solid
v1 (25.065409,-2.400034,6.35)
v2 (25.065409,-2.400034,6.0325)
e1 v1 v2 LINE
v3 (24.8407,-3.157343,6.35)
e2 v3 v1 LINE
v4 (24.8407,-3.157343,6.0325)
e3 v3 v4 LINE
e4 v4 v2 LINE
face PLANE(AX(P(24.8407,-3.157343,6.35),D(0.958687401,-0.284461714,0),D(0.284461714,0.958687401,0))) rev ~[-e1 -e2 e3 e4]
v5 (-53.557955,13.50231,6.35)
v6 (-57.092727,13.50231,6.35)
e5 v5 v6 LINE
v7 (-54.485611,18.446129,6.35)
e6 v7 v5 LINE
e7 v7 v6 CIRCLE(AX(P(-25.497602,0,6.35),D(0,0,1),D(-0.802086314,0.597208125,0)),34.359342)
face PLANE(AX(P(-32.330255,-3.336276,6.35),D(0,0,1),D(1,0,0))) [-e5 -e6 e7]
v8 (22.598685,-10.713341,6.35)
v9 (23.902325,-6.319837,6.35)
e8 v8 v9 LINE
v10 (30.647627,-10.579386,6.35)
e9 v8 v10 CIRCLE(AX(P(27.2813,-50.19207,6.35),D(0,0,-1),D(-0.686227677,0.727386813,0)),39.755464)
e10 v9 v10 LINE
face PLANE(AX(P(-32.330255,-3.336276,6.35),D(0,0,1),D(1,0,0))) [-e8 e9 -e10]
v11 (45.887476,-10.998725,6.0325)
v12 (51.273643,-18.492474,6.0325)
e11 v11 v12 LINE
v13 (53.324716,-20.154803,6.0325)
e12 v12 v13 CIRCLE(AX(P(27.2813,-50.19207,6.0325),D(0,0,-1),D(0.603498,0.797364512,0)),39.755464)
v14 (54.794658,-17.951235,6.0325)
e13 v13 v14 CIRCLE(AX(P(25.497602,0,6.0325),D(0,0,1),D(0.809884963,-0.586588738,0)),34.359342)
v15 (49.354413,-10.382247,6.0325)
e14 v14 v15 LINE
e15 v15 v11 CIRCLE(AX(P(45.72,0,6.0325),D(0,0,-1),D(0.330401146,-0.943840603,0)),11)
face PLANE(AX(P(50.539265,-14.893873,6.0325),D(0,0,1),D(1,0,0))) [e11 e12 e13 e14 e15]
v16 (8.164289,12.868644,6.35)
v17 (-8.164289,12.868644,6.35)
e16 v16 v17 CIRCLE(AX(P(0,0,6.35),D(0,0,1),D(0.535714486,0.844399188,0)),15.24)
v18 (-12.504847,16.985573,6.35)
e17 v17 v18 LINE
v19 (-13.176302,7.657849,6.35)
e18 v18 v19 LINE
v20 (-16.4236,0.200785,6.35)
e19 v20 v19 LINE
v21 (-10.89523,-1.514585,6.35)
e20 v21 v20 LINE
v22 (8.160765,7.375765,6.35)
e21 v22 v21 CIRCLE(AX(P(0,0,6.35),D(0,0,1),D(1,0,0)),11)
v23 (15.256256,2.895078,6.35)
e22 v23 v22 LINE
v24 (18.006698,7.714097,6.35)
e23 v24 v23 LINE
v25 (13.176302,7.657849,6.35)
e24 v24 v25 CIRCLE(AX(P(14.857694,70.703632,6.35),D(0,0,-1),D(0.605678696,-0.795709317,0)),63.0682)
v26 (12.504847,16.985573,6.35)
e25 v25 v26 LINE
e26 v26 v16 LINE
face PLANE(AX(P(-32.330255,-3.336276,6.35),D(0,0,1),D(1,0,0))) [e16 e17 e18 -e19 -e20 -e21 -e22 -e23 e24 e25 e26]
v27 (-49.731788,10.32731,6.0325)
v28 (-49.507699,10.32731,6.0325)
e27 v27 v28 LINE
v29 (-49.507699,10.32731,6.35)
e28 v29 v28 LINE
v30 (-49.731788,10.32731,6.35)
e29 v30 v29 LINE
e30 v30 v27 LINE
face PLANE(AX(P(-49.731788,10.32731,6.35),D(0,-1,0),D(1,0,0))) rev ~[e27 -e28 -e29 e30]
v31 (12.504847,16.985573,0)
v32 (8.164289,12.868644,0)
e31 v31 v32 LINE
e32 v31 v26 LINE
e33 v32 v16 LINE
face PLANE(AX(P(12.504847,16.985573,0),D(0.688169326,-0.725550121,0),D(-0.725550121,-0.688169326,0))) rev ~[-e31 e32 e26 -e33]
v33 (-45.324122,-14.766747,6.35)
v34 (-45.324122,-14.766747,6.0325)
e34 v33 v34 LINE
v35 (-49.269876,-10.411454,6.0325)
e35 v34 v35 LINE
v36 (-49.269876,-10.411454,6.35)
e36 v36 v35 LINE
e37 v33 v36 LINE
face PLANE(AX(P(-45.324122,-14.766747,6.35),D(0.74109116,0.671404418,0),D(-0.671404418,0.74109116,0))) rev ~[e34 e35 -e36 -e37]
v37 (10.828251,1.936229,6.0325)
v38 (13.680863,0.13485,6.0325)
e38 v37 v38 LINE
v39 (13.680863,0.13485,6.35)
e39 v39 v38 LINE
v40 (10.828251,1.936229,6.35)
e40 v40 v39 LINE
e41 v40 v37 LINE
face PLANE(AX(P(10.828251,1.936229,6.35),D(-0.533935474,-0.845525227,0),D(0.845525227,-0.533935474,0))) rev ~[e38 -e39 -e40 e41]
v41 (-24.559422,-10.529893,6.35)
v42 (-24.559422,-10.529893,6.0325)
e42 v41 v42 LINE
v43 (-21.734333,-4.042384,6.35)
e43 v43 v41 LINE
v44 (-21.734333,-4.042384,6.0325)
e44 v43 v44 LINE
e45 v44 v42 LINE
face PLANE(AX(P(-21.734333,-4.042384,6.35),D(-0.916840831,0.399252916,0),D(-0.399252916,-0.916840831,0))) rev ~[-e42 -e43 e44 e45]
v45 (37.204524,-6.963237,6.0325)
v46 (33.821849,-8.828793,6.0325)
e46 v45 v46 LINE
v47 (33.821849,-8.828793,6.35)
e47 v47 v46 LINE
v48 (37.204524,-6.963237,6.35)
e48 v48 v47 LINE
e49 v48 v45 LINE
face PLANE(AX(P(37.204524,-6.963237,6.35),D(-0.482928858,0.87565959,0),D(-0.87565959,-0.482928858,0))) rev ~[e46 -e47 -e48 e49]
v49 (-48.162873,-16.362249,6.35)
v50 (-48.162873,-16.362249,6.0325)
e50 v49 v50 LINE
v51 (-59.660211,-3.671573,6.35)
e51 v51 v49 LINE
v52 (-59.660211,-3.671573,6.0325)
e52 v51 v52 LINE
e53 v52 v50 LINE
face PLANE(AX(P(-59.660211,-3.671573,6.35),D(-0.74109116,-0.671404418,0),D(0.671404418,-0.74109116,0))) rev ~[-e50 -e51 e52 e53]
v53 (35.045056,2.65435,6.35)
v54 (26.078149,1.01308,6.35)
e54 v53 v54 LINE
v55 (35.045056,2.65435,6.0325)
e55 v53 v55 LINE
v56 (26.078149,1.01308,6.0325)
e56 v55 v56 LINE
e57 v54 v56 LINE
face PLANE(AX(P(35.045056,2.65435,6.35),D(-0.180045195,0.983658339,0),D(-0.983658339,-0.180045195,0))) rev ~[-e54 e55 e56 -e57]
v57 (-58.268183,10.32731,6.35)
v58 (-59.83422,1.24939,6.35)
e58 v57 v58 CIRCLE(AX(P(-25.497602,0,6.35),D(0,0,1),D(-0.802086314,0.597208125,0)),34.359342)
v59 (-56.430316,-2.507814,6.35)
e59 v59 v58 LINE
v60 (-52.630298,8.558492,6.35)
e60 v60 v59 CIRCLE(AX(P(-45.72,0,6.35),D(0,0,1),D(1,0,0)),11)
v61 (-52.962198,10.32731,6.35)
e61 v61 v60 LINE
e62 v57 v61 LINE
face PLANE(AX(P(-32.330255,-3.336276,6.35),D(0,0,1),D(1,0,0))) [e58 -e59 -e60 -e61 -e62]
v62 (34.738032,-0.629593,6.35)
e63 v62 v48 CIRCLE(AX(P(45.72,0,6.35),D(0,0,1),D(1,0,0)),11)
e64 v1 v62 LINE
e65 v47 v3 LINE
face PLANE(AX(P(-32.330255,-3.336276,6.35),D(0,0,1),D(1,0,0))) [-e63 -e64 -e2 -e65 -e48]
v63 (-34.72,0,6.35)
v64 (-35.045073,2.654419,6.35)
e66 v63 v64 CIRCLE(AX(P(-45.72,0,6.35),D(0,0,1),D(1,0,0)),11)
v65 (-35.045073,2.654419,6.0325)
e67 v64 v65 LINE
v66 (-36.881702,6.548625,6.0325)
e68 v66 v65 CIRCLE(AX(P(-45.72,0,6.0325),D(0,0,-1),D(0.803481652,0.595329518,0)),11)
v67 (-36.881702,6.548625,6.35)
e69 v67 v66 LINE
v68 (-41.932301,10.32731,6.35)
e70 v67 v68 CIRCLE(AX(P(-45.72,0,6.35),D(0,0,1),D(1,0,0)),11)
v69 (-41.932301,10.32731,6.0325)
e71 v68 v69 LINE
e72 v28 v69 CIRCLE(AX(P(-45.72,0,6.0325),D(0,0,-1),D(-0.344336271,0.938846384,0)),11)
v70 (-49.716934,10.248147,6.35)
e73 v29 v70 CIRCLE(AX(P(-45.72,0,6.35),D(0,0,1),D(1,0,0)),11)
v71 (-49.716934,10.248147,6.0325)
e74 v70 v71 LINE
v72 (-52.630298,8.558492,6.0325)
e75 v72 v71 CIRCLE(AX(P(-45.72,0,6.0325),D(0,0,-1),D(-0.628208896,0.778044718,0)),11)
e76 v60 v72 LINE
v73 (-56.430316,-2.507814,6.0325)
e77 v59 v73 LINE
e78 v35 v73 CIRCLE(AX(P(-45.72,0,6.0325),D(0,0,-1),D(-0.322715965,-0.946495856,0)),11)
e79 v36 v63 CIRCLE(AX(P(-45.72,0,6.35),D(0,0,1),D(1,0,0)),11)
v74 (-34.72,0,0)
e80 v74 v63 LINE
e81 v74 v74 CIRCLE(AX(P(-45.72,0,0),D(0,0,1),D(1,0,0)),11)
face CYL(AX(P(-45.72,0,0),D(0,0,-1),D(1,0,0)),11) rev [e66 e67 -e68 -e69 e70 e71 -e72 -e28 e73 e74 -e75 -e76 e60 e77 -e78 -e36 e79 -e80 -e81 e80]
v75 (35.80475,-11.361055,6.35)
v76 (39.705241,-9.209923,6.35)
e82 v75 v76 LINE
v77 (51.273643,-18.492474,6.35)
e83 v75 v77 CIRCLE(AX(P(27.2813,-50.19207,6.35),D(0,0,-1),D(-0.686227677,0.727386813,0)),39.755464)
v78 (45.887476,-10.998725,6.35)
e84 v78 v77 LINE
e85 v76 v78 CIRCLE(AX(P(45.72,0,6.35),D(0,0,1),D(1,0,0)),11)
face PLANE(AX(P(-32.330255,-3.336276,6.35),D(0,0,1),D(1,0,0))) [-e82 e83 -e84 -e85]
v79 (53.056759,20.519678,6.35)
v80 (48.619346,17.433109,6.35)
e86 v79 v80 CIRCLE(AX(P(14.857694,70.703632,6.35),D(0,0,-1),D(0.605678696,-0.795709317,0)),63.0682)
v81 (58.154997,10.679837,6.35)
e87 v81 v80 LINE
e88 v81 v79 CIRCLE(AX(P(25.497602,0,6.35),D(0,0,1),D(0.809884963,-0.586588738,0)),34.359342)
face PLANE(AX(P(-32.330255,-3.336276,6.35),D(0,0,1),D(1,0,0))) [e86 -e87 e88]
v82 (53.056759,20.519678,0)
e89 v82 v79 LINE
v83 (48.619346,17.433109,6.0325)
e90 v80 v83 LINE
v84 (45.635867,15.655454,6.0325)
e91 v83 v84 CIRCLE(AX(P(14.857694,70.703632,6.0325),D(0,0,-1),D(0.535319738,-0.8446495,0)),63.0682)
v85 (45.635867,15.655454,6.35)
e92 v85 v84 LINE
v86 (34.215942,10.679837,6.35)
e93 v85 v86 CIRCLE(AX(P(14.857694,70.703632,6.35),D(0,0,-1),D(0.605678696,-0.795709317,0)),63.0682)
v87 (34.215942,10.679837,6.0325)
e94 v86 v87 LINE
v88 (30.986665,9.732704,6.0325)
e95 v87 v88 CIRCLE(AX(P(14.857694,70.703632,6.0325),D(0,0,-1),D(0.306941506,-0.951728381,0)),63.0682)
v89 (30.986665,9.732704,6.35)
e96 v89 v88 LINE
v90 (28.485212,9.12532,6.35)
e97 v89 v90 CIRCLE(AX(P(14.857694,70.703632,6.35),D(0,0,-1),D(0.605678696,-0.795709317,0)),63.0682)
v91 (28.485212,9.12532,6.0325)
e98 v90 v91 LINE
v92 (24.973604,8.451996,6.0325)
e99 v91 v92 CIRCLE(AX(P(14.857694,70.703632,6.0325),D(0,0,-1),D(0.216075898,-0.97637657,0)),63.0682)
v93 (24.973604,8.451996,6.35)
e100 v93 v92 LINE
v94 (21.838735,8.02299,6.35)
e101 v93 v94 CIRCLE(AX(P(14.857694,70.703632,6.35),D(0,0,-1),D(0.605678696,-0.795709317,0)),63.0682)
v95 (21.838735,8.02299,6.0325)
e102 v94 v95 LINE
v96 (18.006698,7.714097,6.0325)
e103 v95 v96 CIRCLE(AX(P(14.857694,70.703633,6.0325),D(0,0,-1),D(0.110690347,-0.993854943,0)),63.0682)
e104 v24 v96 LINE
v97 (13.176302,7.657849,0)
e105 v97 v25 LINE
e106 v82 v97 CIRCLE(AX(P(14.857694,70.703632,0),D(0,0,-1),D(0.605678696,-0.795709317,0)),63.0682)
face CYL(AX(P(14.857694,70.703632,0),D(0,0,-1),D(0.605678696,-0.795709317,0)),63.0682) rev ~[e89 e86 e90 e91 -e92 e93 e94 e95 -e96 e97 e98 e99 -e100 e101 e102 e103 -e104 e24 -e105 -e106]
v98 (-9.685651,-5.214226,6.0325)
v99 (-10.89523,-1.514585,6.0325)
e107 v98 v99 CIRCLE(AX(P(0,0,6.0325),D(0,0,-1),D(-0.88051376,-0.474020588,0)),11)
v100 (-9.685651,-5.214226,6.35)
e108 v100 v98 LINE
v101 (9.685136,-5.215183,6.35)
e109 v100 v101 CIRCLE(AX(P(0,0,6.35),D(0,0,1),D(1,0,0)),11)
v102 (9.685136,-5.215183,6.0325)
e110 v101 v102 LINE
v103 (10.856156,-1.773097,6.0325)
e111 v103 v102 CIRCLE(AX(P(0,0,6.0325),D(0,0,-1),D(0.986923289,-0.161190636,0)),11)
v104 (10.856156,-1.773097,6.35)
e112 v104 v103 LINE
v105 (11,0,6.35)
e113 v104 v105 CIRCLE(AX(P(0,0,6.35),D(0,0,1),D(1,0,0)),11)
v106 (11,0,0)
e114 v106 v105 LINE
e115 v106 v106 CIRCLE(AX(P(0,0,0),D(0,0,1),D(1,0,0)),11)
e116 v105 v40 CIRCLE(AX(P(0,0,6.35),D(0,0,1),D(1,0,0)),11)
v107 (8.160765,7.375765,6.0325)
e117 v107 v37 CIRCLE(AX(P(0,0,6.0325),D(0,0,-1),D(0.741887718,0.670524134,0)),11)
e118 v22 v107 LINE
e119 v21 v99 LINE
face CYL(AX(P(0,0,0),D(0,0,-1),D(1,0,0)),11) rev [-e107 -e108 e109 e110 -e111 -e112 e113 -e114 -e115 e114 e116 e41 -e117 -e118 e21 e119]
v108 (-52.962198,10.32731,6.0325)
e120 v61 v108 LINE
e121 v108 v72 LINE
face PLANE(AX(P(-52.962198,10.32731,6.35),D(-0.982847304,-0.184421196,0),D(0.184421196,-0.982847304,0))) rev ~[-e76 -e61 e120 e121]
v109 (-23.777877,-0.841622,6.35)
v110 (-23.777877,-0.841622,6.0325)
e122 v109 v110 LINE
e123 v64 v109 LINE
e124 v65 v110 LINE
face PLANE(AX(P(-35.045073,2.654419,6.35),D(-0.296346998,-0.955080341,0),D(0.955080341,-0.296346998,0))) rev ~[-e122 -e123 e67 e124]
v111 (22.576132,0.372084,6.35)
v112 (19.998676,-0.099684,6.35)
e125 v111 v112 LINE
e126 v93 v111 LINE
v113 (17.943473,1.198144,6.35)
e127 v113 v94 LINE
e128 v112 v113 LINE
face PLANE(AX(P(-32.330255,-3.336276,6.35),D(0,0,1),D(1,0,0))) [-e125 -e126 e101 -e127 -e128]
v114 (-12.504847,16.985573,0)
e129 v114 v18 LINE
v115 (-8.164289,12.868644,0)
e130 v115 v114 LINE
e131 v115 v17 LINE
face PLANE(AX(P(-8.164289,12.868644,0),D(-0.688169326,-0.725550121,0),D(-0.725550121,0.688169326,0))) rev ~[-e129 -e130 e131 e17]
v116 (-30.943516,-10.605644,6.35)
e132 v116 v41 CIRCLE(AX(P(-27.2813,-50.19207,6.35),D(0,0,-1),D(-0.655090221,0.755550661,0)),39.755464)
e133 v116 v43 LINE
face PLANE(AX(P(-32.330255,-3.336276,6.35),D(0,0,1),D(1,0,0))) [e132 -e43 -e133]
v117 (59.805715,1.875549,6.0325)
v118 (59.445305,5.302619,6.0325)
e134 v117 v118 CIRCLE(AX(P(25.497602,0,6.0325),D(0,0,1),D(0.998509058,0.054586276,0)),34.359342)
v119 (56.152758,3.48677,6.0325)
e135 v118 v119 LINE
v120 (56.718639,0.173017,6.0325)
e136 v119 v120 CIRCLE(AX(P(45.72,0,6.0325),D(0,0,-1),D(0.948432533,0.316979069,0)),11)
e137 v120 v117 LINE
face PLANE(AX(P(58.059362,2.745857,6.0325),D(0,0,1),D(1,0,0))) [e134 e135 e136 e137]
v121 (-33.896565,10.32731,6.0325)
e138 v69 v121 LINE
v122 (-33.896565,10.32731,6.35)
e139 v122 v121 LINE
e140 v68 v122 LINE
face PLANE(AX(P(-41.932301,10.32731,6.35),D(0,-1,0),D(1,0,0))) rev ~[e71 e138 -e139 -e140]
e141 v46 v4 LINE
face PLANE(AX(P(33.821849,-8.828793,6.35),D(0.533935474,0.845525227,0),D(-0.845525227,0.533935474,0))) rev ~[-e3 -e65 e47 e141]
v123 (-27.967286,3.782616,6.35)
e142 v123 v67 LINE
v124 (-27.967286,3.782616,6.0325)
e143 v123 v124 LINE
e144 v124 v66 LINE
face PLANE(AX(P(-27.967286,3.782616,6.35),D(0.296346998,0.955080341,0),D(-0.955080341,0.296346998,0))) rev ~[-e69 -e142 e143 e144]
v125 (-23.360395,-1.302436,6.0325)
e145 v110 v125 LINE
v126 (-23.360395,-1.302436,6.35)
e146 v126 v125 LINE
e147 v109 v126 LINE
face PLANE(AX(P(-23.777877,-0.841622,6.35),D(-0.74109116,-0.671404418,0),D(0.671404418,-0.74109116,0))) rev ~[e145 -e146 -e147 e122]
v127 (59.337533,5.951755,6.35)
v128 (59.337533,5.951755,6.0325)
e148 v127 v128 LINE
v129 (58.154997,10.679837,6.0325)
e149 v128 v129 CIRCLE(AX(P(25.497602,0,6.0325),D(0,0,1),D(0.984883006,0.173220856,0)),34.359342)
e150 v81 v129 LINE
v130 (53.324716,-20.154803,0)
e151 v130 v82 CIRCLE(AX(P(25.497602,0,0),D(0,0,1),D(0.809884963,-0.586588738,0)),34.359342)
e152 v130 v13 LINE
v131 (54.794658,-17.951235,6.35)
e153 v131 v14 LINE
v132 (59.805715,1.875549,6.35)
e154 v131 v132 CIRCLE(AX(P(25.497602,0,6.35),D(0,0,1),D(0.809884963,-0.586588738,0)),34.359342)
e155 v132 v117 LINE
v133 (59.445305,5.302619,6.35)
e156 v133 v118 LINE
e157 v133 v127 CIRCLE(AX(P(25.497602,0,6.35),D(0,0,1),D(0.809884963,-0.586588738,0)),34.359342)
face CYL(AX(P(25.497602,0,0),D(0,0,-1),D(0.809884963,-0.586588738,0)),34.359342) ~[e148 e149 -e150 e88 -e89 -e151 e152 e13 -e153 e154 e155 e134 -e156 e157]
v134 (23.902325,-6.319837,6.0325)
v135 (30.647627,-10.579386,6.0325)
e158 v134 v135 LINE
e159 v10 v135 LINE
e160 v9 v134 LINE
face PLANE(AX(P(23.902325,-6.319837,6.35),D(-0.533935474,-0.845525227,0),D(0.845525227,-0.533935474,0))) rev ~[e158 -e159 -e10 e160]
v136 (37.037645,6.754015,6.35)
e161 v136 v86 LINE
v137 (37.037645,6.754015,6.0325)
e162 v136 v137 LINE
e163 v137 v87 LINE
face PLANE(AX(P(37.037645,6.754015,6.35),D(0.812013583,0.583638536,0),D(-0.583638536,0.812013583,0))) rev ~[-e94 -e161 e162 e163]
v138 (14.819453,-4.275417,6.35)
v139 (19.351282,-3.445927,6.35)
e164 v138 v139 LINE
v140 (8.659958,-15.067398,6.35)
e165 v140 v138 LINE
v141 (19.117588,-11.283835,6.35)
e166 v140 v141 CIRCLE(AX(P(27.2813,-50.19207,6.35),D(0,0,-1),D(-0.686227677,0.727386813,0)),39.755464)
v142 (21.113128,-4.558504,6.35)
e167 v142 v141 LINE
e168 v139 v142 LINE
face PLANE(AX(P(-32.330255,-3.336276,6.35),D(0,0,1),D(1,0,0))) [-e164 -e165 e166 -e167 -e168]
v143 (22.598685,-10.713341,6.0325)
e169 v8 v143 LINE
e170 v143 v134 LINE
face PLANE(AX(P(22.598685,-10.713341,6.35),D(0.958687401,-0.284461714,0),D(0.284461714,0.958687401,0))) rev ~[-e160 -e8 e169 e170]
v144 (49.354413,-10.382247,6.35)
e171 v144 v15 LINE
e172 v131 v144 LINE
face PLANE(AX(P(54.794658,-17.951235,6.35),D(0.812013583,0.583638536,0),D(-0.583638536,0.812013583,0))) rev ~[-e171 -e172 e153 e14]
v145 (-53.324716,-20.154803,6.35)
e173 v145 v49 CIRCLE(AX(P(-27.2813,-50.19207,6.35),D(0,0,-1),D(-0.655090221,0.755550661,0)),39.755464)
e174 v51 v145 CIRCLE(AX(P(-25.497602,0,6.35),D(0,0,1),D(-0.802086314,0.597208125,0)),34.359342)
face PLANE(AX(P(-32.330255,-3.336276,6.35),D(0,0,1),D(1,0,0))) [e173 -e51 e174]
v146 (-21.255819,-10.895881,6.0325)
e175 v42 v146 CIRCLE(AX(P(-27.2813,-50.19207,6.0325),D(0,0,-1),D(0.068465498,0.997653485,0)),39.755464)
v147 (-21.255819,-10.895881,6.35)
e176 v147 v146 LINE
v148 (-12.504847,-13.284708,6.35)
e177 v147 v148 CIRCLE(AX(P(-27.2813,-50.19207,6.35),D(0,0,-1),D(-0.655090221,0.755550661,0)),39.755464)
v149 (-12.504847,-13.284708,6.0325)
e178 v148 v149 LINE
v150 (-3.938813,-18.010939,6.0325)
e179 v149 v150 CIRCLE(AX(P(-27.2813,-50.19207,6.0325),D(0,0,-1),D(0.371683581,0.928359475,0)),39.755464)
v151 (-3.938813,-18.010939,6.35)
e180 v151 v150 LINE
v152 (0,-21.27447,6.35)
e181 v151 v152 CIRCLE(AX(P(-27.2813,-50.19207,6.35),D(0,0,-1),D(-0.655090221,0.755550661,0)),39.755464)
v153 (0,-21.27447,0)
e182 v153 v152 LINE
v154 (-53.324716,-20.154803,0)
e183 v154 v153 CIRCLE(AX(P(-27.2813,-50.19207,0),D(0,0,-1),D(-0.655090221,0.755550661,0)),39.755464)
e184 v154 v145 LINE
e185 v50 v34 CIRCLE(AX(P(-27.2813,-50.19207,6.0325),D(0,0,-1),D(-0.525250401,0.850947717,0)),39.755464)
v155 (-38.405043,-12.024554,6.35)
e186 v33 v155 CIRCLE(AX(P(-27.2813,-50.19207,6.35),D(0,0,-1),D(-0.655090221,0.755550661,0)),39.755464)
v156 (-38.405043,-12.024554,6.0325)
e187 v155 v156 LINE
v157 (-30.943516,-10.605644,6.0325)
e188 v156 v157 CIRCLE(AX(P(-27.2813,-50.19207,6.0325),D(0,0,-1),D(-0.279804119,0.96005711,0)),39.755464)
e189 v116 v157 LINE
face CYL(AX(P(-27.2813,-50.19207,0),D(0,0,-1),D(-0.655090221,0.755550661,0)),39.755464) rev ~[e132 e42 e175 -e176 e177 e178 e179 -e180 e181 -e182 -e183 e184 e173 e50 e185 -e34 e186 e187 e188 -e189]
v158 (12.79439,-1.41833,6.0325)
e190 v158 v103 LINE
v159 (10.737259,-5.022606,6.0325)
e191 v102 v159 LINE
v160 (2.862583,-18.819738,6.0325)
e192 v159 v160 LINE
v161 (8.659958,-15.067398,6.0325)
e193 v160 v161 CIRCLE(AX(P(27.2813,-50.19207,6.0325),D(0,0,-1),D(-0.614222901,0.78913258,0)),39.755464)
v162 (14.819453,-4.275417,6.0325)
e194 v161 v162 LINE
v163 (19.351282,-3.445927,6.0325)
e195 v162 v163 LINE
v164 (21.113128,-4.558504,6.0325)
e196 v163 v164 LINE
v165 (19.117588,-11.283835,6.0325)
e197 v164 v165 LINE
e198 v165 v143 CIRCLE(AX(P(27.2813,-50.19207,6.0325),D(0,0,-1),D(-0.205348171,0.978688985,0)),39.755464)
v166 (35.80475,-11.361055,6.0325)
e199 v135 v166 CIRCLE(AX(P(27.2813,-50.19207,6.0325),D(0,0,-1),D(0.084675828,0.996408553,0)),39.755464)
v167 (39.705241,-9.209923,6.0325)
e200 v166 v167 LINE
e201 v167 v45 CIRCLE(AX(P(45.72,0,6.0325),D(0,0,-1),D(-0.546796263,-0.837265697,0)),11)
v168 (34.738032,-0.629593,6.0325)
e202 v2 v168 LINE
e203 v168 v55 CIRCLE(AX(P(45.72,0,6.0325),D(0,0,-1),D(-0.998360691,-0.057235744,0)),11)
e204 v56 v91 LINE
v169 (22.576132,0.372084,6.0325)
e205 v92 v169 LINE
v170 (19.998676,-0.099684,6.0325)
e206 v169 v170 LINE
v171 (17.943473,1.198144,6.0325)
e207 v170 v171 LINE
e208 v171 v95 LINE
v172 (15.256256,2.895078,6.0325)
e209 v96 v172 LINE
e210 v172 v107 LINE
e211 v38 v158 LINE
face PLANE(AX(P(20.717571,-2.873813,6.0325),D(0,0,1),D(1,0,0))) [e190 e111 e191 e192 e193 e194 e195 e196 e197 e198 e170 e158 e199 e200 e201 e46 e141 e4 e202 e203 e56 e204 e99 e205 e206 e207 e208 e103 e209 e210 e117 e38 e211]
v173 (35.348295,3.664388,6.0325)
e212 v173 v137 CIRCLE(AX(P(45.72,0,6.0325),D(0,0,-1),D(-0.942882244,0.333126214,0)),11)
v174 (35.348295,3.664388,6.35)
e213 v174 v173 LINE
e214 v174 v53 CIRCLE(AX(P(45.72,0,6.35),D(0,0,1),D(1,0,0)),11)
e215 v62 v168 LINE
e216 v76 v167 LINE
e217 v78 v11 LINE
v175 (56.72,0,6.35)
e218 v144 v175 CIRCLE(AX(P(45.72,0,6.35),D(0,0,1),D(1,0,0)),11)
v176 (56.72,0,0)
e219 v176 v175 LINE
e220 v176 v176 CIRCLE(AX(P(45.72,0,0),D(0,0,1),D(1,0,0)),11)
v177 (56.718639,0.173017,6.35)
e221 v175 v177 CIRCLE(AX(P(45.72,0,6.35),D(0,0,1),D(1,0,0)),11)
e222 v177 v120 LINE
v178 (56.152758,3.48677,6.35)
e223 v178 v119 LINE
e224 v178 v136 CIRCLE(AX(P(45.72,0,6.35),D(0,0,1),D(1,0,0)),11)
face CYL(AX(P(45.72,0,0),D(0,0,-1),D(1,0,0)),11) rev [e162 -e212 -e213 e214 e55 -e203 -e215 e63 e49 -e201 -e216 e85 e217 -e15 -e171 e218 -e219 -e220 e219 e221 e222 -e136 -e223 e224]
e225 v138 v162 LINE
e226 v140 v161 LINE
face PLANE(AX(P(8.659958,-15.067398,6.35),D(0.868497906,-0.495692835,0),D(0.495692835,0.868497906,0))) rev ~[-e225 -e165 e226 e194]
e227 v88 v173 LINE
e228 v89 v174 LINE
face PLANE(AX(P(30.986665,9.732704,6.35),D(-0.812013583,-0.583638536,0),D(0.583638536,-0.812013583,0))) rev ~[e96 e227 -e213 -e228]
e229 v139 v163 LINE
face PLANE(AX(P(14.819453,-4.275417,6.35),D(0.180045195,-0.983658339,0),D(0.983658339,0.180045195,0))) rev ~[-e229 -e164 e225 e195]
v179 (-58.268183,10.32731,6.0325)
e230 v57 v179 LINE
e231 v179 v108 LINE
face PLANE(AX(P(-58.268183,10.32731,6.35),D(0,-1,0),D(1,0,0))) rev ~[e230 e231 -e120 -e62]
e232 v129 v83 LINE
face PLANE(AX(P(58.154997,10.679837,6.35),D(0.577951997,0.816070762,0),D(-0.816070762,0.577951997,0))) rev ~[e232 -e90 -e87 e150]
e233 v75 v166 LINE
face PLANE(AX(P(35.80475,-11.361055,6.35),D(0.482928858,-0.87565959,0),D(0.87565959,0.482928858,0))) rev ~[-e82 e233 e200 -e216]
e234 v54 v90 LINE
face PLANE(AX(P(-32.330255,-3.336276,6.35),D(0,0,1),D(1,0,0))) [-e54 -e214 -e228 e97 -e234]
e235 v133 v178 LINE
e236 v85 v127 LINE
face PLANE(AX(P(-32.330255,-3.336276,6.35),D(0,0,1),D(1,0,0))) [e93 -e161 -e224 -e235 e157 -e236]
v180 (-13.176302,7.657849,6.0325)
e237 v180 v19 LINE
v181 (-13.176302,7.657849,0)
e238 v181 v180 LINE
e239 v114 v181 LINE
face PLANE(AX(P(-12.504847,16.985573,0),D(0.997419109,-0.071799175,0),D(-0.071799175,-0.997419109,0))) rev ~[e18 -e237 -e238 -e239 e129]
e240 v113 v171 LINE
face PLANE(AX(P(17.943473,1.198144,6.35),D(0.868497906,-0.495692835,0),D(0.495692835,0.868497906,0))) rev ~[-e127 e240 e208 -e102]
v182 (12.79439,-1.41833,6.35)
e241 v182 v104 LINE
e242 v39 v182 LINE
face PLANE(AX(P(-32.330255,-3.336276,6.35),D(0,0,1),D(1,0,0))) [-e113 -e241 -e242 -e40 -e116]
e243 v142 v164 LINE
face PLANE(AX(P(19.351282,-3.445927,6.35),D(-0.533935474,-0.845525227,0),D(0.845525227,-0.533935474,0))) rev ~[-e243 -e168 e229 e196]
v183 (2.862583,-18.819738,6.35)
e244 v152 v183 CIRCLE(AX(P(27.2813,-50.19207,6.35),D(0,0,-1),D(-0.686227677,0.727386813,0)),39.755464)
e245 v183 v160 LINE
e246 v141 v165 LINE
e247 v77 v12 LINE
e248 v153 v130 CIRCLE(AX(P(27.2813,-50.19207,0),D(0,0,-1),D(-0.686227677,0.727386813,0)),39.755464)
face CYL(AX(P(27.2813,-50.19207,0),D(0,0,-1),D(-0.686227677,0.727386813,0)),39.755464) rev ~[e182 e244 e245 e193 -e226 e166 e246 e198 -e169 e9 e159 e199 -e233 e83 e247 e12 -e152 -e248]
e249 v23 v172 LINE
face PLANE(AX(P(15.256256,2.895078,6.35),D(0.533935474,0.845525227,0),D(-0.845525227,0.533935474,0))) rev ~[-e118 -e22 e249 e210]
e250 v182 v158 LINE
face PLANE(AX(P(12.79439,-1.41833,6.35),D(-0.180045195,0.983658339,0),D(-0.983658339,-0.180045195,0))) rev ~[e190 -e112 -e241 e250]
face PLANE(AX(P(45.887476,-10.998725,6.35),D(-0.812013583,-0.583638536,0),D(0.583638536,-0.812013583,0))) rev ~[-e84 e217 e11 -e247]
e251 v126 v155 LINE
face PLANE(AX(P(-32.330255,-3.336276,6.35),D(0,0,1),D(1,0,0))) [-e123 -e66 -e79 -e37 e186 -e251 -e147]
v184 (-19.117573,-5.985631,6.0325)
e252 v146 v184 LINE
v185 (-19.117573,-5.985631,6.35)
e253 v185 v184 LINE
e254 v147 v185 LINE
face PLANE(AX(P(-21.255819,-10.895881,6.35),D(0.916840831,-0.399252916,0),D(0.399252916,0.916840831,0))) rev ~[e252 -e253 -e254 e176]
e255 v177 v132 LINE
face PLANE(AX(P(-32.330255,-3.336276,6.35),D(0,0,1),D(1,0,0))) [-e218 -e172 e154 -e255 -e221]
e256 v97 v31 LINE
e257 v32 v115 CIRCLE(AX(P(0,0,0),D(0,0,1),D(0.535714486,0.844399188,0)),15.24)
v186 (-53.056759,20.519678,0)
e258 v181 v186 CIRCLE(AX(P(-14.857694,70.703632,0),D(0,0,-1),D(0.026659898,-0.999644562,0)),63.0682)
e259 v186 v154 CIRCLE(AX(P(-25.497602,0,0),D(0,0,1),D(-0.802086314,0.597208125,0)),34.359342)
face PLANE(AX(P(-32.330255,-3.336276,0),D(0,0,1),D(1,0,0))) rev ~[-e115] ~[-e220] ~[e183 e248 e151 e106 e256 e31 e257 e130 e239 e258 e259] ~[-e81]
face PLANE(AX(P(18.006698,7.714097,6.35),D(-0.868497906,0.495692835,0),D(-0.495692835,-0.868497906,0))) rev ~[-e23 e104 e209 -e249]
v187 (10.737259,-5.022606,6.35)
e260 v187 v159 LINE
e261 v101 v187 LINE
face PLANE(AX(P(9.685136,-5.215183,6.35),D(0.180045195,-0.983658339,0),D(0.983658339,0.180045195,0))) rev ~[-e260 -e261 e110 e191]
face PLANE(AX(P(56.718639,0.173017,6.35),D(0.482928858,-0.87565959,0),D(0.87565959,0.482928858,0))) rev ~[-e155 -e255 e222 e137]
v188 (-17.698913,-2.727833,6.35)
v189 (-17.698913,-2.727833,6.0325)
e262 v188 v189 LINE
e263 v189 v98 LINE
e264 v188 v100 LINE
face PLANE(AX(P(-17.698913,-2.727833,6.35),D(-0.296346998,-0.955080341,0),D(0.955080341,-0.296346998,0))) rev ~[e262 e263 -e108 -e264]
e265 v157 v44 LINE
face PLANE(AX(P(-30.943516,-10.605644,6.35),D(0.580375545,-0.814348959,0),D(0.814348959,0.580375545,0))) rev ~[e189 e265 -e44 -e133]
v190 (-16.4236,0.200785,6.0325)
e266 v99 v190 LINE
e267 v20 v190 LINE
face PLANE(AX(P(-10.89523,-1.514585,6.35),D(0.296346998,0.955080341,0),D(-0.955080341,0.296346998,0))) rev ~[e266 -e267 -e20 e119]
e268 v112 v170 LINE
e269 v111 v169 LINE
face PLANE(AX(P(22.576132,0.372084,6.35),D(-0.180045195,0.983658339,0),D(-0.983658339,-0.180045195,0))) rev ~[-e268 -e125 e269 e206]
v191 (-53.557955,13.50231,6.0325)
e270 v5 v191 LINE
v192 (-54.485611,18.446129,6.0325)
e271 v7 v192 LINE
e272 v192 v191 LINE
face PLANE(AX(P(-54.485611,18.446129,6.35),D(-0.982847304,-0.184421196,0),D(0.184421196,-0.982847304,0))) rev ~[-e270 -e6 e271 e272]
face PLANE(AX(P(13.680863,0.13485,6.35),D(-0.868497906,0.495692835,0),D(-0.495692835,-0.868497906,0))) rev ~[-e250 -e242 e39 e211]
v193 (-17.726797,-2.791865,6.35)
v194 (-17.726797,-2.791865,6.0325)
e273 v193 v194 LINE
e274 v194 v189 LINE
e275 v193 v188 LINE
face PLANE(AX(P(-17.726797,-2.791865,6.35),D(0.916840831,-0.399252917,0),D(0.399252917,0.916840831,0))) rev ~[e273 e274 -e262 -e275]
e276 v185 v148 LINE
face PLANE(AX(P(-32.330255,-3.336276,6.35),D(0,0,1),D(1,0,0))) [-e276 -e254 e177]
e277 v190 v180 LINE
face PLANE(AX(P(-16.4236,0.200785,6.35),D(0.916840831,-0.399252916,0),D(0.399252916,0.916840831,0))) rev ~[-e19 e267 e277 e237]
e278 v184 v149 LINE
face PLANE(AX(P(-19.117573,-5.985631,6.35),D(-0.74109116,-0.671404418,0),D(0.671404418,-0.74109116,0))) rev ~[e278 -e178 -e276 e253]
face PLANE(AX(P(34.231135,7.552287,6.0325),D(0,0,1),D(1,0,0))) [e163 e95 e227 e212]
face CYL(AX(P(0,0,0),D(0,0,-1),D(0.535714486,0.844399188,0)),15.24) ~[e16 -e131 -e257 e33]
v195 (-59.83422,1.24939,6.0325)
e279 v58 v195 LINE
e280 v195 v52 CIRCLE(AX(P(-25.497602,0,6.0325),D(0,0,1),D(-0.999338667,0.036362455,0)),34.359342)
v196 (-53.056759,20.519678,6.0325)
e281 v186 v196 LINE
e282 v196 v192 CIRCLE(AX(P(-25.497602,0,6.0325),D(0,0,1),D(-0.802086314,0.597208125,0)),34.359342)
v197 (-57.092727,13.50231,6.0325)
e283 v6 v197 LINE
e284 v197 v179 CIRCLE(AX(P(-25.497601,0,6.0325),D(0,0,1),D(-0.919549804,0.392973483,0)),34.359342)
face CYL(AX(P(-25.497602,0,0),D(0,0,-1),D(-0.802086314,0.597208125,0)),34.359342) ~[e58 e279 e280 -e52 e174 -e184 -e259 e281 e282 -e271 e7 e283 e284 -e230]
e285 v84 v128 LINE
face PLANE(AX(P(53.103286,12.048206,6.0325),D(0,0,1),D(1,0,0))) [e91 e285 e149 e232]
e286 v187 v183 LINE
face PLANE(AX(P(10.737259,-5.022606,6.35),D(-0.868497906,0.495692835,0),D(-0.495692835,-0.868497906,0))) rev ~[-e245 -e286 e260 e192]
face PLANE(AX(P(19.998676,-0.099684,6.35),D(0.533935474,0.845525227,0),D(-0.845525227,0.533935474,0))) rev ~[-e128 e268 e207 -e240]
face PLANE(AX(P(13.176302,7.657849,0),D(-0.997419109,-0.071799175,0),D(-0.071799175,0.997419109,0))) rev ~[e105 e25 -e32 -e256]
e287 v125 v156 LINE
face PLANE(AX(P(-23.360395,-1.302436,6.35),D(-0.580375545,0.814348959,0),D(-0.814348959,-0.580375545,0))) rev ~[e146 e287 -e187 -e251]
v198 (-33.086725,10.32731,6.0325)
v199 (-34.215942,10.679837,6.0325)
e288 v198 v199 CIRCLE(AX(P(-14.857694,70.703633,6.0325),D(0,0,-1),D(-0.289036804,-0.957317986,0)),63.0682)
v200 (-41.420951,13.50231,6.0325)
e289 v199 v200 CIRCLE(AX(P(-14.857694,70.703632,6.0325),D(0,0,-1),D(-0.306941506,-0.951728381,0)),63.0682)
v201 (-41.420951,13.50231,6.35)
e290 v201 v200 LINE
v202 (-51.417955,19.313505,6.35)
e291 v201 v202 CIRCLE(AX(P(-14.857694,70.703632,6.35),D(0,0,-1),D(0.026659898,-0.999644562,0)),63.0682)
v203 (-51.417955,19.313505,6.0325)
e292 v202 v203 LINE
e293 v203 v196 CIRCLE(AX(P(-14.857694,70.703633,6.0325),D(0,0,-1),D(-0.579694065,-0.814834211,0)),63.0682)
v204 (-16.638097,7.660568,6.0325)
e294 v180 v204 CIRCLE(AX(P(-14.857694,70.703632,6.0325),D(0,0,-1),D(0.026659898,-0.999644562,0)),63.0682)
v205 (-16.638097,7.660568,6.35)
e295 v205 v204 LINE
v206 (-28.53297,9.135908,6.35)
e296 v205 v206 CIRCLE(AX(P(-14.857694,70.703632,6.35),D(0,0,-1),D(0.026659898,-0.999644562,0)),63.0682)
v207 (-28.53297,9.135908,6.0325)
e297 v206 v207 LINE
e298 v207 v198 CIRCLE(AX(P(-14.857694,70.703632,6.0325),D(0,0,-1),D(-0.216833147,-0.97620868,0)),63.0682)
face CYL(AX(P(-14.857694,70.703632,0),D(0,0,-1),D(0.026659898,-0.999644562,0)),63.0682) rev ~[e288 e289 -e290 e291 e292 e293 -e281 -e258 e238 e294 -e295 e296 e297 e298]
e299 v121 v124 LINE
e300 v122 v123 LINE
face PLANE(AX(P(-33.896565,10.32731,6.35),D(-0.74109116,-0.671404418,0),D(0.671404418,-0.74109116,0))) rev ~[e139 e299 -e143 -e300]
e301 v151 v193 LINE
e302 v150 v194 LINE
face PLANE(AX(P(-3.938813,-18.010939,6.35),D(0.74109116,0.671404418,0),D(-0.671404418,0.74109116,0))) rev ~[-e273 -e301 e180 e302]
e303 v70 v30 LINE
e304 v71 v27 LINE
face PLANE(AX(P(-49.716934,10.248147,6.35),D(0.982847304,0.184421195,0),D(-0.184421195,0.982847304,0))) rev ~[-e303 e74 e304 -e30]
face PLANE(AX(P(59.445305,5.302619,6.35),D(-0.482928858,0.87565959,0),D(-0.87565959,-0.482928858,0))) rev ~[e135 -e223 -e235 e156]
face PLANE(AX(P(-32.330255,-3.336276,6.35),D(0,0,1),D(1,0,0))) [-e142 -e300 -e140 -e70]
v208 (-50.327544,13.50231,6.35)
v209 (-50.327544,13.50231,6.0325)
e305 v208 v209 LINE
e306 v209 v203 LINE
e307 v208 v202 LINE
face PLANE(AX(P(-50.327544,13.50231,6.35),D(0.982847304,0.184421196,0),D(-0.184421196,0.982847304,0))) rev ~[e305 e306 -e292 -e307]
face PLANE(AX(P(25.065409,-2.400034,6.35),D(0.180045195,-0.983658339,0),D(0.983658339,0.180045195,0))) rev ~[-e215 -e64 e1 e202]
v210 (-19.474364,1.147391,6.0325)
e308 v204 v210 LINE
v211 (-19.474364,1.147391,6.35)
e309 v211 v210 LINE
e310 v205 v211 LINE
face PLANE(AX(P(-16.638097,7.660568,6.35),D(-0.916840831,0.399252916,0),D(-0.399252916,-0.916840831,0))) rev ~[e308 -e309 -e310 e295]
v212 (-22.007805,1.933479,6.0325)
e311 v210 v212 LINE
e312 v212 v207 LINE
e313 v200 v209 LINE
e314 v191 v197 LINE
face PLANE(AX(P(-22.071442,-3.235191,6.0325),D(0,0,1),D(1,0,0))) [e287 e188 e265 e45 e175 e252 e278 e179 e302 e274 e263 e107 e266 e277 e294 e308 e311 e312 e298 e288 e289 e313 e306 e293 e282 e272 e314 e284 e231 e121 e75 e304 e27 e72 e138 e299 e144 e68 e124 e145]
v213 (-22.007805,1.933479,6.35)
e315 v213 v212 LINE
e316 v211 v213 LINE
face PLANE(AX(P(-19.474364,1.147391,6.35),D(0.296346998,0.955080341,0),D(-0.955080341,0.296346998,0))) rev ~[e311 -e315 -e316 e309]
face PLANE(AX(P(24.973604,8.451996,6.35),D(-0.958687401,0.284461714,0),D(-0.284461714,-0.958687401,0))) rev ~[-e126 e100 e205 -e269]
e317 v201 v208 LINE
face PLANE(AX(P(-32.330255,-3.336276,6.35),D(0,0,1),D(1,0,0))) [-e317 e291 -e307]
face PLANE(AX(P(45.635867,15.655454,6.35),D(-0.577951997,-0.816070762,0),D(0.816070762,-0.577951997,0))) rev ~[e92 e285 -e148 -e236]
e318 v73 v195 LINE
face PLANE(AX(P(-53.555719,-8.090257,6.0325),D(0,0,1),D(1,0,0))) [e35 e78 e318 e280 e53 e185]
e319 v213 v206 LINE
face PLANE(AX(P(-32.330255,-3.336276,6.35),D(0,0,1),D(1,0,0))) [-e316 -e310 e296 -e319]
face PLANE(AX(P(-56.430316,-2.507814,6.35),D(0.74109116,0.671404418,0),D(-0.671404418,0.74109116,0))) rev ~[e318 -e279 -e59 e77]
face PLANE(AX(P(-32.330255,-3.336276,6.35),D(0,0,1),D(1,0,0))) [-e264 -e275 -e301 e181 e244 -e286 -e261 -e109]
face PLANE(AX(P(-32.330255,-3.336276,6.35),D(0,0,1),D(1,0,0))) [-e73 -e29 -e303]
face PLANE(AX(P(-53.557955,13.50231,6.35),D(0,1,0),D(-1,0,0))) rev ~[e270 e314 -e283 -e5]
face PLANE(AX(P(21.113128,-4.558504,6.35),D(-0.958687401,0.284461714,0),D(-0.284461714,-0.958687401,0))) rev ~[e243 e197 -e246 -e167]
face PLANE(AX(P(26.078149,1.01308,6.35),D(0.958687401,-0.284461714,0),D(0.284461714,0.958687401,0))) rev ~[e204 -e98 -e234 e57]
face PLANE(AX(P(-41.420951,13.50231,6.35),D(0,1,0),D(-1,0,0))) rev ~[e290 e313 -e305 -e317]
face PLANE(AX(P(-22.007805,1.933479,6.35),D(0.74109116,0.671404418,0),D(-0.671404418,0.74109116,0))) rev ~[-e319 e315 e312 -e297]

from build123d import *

# Parameters (mm, degrees)
F1_R     = 11
F2_DEPTH = 6.35
F6_DEPTH = 0.3175


with BuildPart() as f2:
    # F1 (on Top) → F2 (new body)
    with BuildSketch(Plane.XY):
        with BuildLine():
            Line((0, -21.2744697928), (-3.9617014267, -14.7160633936))
            ThreePointArc((-3.9617014267, -14.7160633936), (-14.0916920779, -5.8036035686), (-13.1763023875, 7.6578492669))
            ThreePointArc((-13.1763023875, 7.6578492669), (-34.2159424621, 10.6798365178), (-53.0567593104, 20.5196780766))
            ThreePointArc((-53.0567593104, 20.5196780766), (-59.8561977211, 0.2263484753), (-53.3247157398, -20.1548029185))
            ThreePointArc((-53.3247157398, -20.1548029185), (-26.446732511, -10.4453667792), (0, -21.2744697928))
        make_face()
        with Locations((-45.72, 0)):
            Circle(F1_R, mode=Mode.SUBTRACT)
        with BuildLine():
            ThreePointArc((-13.1763023875, 7.6578492669), (-10.9837744966, 10.5647668127), (-8.1642887679, 12.8686436315))
            Line((-8.1642887679, 12.8686436315), (-12.5048465535, 16.9855731691))
            Line((-12.5048465535, 16.9855731691), (-13.1763023875, 7.6578492669))
        make_face()
        with BuildLine():
            ThreePointArc((8.1642887679, 12.8686436315), (10.9837744966, 10.5647668127), (13.1763023875, 7.6578492669))
            Line((13.1763023875, 7.6578492669), (12.5048465535, 16.9855731691))
            Line((12.5048465535, 16.9855731691), (8.1642887679, 12.8686436315))
        make_face()
        with BuildLine():
            Line((0, -21.2744697928), (3.9617014267, -14.7160633936))
            ThreePointArc((3.9617014267, -14.7160633936), (0, -15.24), (-3.9617014267, -14.7160633936))
            Line((-3.9617014267, -14.7160633936), (0, -21.2744697928))
        make_face()
        with BuildLine():
            ThreePointArc((3.9617014267, -14.7160633936), (12.0961549623, -9.2704172036), (15.24, 0))
            ThreePointArc((15.24, 0), (14.7150339515, 3.9655233964), (13.1763023875, 7.6578492669))
            ThreePointArc((13.1763023875, 7.6578492669), (10.9837744966, 10.5647668127), (8.1642887679, 12.8686436315))
            ThreePointArc((8.1642887679, 12.8686436315), (0, 15.24), (-8.1642887679, 12.8686436315))
            ThreePointArc((-8.1642887679, 12.8686436315), (-10.9837744966, 10.5647668127), (-13.1763023875, 7.6578492669))
            ThreePointArc((-13.1763023875, 7.6578492669), (-14.0916920779, -5.8036035686), (-3.9617014267, -14.7160633936))
            ThreePointArc((-3.9617014267, -14.7160633936), (0, -15.24), (3.9617014267, -14.7160633936))
        make_face()
        Circle(F1_R, mode=Mode.SUBTRACT)
        with BuildLine():
            ThreePointArc((13.1763023875, 7.6578492669), (14.7150339515, 3.9655233964), (15.24, 0))
            ThreePointArc((15.24, 0), (12.0961549623, -9.2704172036), (3.9617014267, -14.7160633936))
            Line((3.9617014267, -14.7160633936), (0, -21.2744697928))
            ThreePointArc((0, -21.2744697928), (26.446732511, -10.4453667792), (53.3247157398, -20.1548029185))
            ThreePointArc((53.3247157398, -20.1548029185), (59.8561977211, 0.2263484753), (53.0567593104, 20.5196780766))
            ThreePointArc((53.0567593104, 20.5196780766), (34.2159424621, 10.6798365178), (13.1763023875, 7.6578492669))
        make_face()
        with Locations((45.72, 0)):
            Circle(F1_R, mode=Mode.SUBTRACT)
    extrude(amount=F2_DEPTH)

    # F4: F2 across plane


with BuildPart() as f2_1:
    add(f2.part)
    add(f2.part.mirror(Plane.XY.offset(3.175)), mode=Mode.INTERSECT)

    # F5 (on face) → F6 (cut)
    with BuildSketch(Plane.XY.offset(6.35)):
        with BuildLine():
            Line((-33.0867251205, 10.3273102228), (-33.8965651377, 10.3273102228))
            Line((-33.8965651377, 10.3273102228), (-27.9672857299, 3.7826160877))
            Line((-27.9672857299, 3.7826160877), (-36.8817018288, 6.5486246982))
            ThreePointArc((-36.8817018288, 6.5486246982), (-35.7709952356, 4.6922600309), (-35.0450733013, 2.6544189528))
            Line((-35.0450733013, 2.6544189528), (-23.777877053, -0.8416217854))
            Line((-23.777877053, -0.8416217854), (-23.3603945078, -1.3024358872))
            Line((-23.3603945078, -1.3024358872), (-38.4050425364, -12.0245541076))
            ThreePointArc((-38.4050425364, -12.0245541076), (-34.7082419636, -11.1365012415), (-30.9435157655, -10.6056443669))
            Line((-30.9435157655, -10.6056443669), (-21.7343333799, -4.0423839925))
            Line((-21.7343333799, -4.0423839925), (-24.5594222217, -10.5298927816))
            ThreePointArc((-24.5594222217, -10.5298927816), (-22.9037940861, -10.6783462725), (-21.2558190336, -10.8958806112))
            Line((-21.2558190336, -10.8958806112), (-19.1175726849, -5.9856307902))
            Line((-19.1175726849, -5.9856307902), (-12.5048465535, -13.2847082923))
            ThreePointArc((-12.5048465535, -13.2847082923), (-8.0758913439, -15.3833181537), (-3.9388128262, -18.0109385482))
            Line((-3.9388128262, -18.0109385482), (-17.7267967393, -2.7918653278))
            Line((-17.7267967393, -2.7918653278), (-17.8183960606, -2.690758684))
            Line((-17.8183960606, -2.690758684), (-17.6989126602, -2.7278325777))
            Line((-17.6989126602, -2.7278325777), (-9.6856513623, -5.2142264707))
            ThreePointArc((-9.6856513623, -5.2142264707), (-10.4553816006, -3.4183322814), (-10.89522981, -1.5145848898))
            Line((-10.89522981, -1.5145848898), (-16.4235996876, 0.2007847445))
            Line((-16.4235996876, 0.2007847445), (-13.1763023875, 7.6578492669))
            ThreePointArc((-13.1763023875, 7.6578492669), (-14.9072183672, 7.6354518608), (-16.6380970373, 7.6605676364))
            Line((-16.6380970373, 7.6605676364), (-19.4743635012, 1.147390656))
            Line((-19.4743635012, 1.147390656), (-22.0078047375, 1.933479189))
            Line((-22.0078047375, 1.933479189), (-28.5329704562, 9.1359081644))
            ThreePointArc((-28.5329704562, 9.1359081644), (-30.8209665406, 9.6891113065), (-33.0867251205, 10.3273102228))
        make_face()
        Polygon((-21.2140333894, -3.6715731901), (-21.7343333799, -4.0423839925), (-21.4563736727, -3.4040798031), align=None, mode=Mode.SUBTRACT)
        with BuildLine():
            Line((15.2562559493, 2.8950779034), (8.1607648929, 7.3757654764))
            ThreePointArc((8.1607648929, 7.3757654764), (9.876376857, 4.8432613164), (10.828250906, 1.9362288904))
            Line((10.828250906, 1.9362288904), (13.6808634902, 0.1348502888))
            Line((13.6808634902, 0.1348502888), (12.7943901494, -1.4183297972))
            Line((12.7943901494, -1.4183297972), (10.8561561819, -1.7730969953))
            ThreePointArc((10.8561561819, -1.7730969953), (10.413844837, -3.5428569984), (9.6851364245, -5.2151828768))
            Line((9.6851364245, -5.2151828768), (10.737259112, -5.0226062199))
            Line((10.737259112, -5.0226062199), (2.8625832994, -18.8197381724))
            ThreePointArc((2.8625832994, -18.8197381724), (5.6796409679, -16.8174500762), (8.659958175, -15.0673983988))
            Line((8.659958175, -15.0673983988), (14.8194526711, -4.2754165641))
            Line((14.8194526711, -4.2754165641), (19.3512821981, -3.4459271988))
            Line((19.3512821981, -3.4459271988), (21.1131281148, -4.5585043329))
            Line((21.1131281148, -4.5585043329), (23.9023253439, -6.3198371658))
            Line((23.9023253439, -6.3198371658), (30.6476267102, -10.5793856266))
            ThreePointArc((30.6476267102, -10.5793856266), (33.239021799, -10.8855505762), (35.8047499487, -11.3610550922))
            Line((35.8047499487, -11.3610550922), (36.8868348984, -10.7642820371))
            Line((36.8868348984, -10.7642820371), (39.7052411081, -9.2099226638))
            ThreePointArc((39.7052411081, -9.2099226638), (38.3685492146, -8.182675073), (37.2045242378, -6.9632372172))
            Line((37.2045242378, -6.9632372172), (33.8218485778, -8.8287928639))
            Line((33.8218485778, -8.8287928639), (24.8407004508, -3.1573434203))
            Line((24.8407004508, -3.1573434203), (25.065409153, -2.4000344721))
            Line((25.065409153, -2.4000344721), (34.7380323974, -0.6295931817))
            ThreePointArc((34.7380323974, -0.6295931817), (34.7677616902, 1.0239511728), (35.0450561709, 2.6543500609))
            Line((35.0450561709, 2.6543500609), (26.0781485443, 1.0130803549))
            Line((26.0781485443, 1.0130803549), (28.4852120842, 9.1253196222))
            ThreePointArc((28.4852120842, 9.1253196222), (26.7341804846, 8.7637670313), (24.9736036439, 8.4519960794))
            Line((24.9736036439, 8.4519960794), (22.5761322902, 0.3720842136))
            Line((22.5761322902, 0.3720842136), (19.9986764969, -0.0996837903))
            Line((19.9986764969, -0.0996837903), (17.9434726534, 1.1981441188))
            Line((17.9434726534, 1.1981441188), (21.8387350818, 8.0229901179))
            ThreePointArc((21.8387350818, 8.0229901179), (19.9250706714, 7.8393377288), (18.0066978386, 7.7140965624))
            Line((18.0066978386, 7.7140965624), (15.2562559493, 2.8950779034))
        make_face()
        with BuildLine():
            ThreePointArc((-53.0567593104, 20.5196780766), (-53.7901878387, 19.495997689), (-54.4856112515, 18.4461285452))
            Line((-54.4856112515, 18.4461285452), (-53.5579545513, 13.5023102228))
            Line((-53.5579545513, 13.5023102228), (-57.0927274917, 13.5023102228))
            ThreePointArc((-57.0927274917, 13.5023102228), (-57.7195853166, 11.9292969924), (-58.2681832984, 10.3273102228))
            Line((-58.2681832984, 10.3273102228), (-52.962198431, 10.3273102228))
            Line((-52.962198431, 10.3273102228), (-52.6302978511, 8.5584919004))
            ThreePointArc((-52.6302978511, 8.5584919004), (-51.238664738, 9.5154789427), (-49.7169340331, 10.2481470684))
            Line((-49.7169340331, 10.2481470684), (-49.7317881854, 10.3273102228))
            Line((-49.7317881854, 10.3273102228), (-49.5076989799, 10.3273102228))
            ThreePointArc((-49.5076989799, 10.3273102228), (-45.72, 11), (-41.9323010201, 10.3273102228))
            Line((-41.9323010201, 10.3273102228), (-33.8965651377, 10.3273102228))
            Line((-33.8965651377, 10.3273102228), (-34.2159424621, 10.6798365178))
            ThreePointArc((-34.2159424621, 10.6798365178), (-37.8617750601, 11.9804673674), (-41.4209505634, 13.5023102228))
            Line((-41.4209505634, 13.5023102228), (-50.3275443057, 13.5023102228))
            Line((-50.3275443057, 13.5023102228), (-51.4179553631, 19.313505424))
            ThreePointArc((-51.4179553631, 19.313505424), (-52.2422221405, 19.9099820336), (-53.0567593104, 20.5196780766))
        make_face()
        with BuildLine():
            Line((-56.4303159965, -2.5078140393), (-59.834220327, 1.2493900283))
            ThreePointArc((-59.834220327, 1.2493900283), (-59.8354822635, -1.214212745), (-59.6602114445, -3.6715731901))
            Line((-59.6602114445, -3.6715731901), (-48.1628733894, -16.3622486943))
            ThreePointArc((-48.1628733894, -16.3622486943), (-46.7598407585, -15.5354203248), (-45.3241222503, -14.7667473894))
            Line((-45.3241222503, -14.7667473894), (-49.2698756194, -10.4114544175))
            ThreePointArc((-49.2698756194, -10.4114544175), (-53.8720027623, -7.3854485959), (-56.4303159965, -2.5078140393))
        make_face()
        with BuildLine():
            ThreePointArc((48.6193464819, 17.4331088222), (47.1398450994, 16.5237414768), (45.6358669143, 15.6554541232))
            Line((45.6358669143, 15.6554541232), (59.3375333115, 5.9517546057))
            ThreePointArc((59.3375333115, 5.9517546057), (58.8302028659, 8.336789193), (58.1549966776, 10.6798365178))
            Line((58.1549966776, 10.6798365178), (48.6193464819, 17.4331088222))
        make_face()
        with BuildLine():
            Line((45.8874761829, -10.9987250047), (51.2736430216, -18.4924738944))
            ThreePointArc((51.2736430216, -18.4924738944), (52.3129823875, -19.3066074996), (53.3247157398, -20.1548029185))
            ThreePointArc((53.3247157398, -20.1548029185), (54.0809297424, -19.0671894684), (54.7946581697, -17.9512350039))
            Line((54.7946581697, -17.9512350039), (49.3544126008, -10.3822466281))
            ThreePointArc((49.3544126008, -10.3822466281), (47.6457728262, -10.8301153744), (45.8874761829, -10.9987250047))
        make_face()
        with BuildLine():
            ThreePointArc((34.2159424621, 10.6798365178), (32.6076224076, 10.1847271174), (30.9866653992, 9.7327037853))
            Line((30.9866653992, 9.7327037853), (35.3482953178, 3.6643883508))
            ThreePointArc((35.3482953178, 3.6643883508), (36.0685366986, 5.2772394433), (37.037645152, 6.7540146796))
            Line((37.037645152, 6.7540146796), (34.2159424621, 10.6798365178))
        make_face()
        with BuildLine():
            Line((21.1131281148, -4.5585043329), (19.1175879927, -11.2838352887))
            ThreePointArc((19.1175879927, -11.2838352887), (20.8518057848, -10.9599591005), (22.5986849132, -10.7133410833))
            Line((22.5986849132, -10.7133410833), (23.9023253439, -6.3198371658))
            Line((23.9023253439, -6.3198371658), (21.1131281148, -4.5585043329))
        make_face()
        with BuildLine():
            Line((59.4453053256, 5.3026194345), (56.1527578647, 3.4867697567))
            ThreePointArc((56.1527578647, 3.4867697567), (56.5630362514, 1.8516384236), (56.7186392424, 0.1730168046))
            Line((56.7186392424, 0.1730168046), (59.8057154927, 1.8755485011))
            ThreePointArc((59.8057154927, 1.8755485011), (59.6685009659, 3.593605098), (59.4453053256, 5.3026194345))
        make_face()
        with BuildLine():
            ThreePointArc((-33.0867251205, 10.3273102228), (-33.6521603479, 10.5009257322), (-34.2159424621, 10.6798365178))
            Line((-34.2159424621, 10.6798365178), (-33.8965651377, 10.3273102228))
            Line((-33.8965651377, 10.3273102228), (-33.0867251205, 10.3273102228))
        make_face()
        Polygon((-21.7343333799, -4.0423839925), (-21.2140333894, -3.6715731901), (-21.4563736727, -3.4040798031), align=None)
        Polygon((-17.6989126602, -2.7278325777), (-17.8183960606, -2.690758684), (-17.7267967393, -2.7918653278), align=None)
    extrude(amount=-F6_DEPTH, mode=Mode.SUBTRACT)


solid = f2_1.part
